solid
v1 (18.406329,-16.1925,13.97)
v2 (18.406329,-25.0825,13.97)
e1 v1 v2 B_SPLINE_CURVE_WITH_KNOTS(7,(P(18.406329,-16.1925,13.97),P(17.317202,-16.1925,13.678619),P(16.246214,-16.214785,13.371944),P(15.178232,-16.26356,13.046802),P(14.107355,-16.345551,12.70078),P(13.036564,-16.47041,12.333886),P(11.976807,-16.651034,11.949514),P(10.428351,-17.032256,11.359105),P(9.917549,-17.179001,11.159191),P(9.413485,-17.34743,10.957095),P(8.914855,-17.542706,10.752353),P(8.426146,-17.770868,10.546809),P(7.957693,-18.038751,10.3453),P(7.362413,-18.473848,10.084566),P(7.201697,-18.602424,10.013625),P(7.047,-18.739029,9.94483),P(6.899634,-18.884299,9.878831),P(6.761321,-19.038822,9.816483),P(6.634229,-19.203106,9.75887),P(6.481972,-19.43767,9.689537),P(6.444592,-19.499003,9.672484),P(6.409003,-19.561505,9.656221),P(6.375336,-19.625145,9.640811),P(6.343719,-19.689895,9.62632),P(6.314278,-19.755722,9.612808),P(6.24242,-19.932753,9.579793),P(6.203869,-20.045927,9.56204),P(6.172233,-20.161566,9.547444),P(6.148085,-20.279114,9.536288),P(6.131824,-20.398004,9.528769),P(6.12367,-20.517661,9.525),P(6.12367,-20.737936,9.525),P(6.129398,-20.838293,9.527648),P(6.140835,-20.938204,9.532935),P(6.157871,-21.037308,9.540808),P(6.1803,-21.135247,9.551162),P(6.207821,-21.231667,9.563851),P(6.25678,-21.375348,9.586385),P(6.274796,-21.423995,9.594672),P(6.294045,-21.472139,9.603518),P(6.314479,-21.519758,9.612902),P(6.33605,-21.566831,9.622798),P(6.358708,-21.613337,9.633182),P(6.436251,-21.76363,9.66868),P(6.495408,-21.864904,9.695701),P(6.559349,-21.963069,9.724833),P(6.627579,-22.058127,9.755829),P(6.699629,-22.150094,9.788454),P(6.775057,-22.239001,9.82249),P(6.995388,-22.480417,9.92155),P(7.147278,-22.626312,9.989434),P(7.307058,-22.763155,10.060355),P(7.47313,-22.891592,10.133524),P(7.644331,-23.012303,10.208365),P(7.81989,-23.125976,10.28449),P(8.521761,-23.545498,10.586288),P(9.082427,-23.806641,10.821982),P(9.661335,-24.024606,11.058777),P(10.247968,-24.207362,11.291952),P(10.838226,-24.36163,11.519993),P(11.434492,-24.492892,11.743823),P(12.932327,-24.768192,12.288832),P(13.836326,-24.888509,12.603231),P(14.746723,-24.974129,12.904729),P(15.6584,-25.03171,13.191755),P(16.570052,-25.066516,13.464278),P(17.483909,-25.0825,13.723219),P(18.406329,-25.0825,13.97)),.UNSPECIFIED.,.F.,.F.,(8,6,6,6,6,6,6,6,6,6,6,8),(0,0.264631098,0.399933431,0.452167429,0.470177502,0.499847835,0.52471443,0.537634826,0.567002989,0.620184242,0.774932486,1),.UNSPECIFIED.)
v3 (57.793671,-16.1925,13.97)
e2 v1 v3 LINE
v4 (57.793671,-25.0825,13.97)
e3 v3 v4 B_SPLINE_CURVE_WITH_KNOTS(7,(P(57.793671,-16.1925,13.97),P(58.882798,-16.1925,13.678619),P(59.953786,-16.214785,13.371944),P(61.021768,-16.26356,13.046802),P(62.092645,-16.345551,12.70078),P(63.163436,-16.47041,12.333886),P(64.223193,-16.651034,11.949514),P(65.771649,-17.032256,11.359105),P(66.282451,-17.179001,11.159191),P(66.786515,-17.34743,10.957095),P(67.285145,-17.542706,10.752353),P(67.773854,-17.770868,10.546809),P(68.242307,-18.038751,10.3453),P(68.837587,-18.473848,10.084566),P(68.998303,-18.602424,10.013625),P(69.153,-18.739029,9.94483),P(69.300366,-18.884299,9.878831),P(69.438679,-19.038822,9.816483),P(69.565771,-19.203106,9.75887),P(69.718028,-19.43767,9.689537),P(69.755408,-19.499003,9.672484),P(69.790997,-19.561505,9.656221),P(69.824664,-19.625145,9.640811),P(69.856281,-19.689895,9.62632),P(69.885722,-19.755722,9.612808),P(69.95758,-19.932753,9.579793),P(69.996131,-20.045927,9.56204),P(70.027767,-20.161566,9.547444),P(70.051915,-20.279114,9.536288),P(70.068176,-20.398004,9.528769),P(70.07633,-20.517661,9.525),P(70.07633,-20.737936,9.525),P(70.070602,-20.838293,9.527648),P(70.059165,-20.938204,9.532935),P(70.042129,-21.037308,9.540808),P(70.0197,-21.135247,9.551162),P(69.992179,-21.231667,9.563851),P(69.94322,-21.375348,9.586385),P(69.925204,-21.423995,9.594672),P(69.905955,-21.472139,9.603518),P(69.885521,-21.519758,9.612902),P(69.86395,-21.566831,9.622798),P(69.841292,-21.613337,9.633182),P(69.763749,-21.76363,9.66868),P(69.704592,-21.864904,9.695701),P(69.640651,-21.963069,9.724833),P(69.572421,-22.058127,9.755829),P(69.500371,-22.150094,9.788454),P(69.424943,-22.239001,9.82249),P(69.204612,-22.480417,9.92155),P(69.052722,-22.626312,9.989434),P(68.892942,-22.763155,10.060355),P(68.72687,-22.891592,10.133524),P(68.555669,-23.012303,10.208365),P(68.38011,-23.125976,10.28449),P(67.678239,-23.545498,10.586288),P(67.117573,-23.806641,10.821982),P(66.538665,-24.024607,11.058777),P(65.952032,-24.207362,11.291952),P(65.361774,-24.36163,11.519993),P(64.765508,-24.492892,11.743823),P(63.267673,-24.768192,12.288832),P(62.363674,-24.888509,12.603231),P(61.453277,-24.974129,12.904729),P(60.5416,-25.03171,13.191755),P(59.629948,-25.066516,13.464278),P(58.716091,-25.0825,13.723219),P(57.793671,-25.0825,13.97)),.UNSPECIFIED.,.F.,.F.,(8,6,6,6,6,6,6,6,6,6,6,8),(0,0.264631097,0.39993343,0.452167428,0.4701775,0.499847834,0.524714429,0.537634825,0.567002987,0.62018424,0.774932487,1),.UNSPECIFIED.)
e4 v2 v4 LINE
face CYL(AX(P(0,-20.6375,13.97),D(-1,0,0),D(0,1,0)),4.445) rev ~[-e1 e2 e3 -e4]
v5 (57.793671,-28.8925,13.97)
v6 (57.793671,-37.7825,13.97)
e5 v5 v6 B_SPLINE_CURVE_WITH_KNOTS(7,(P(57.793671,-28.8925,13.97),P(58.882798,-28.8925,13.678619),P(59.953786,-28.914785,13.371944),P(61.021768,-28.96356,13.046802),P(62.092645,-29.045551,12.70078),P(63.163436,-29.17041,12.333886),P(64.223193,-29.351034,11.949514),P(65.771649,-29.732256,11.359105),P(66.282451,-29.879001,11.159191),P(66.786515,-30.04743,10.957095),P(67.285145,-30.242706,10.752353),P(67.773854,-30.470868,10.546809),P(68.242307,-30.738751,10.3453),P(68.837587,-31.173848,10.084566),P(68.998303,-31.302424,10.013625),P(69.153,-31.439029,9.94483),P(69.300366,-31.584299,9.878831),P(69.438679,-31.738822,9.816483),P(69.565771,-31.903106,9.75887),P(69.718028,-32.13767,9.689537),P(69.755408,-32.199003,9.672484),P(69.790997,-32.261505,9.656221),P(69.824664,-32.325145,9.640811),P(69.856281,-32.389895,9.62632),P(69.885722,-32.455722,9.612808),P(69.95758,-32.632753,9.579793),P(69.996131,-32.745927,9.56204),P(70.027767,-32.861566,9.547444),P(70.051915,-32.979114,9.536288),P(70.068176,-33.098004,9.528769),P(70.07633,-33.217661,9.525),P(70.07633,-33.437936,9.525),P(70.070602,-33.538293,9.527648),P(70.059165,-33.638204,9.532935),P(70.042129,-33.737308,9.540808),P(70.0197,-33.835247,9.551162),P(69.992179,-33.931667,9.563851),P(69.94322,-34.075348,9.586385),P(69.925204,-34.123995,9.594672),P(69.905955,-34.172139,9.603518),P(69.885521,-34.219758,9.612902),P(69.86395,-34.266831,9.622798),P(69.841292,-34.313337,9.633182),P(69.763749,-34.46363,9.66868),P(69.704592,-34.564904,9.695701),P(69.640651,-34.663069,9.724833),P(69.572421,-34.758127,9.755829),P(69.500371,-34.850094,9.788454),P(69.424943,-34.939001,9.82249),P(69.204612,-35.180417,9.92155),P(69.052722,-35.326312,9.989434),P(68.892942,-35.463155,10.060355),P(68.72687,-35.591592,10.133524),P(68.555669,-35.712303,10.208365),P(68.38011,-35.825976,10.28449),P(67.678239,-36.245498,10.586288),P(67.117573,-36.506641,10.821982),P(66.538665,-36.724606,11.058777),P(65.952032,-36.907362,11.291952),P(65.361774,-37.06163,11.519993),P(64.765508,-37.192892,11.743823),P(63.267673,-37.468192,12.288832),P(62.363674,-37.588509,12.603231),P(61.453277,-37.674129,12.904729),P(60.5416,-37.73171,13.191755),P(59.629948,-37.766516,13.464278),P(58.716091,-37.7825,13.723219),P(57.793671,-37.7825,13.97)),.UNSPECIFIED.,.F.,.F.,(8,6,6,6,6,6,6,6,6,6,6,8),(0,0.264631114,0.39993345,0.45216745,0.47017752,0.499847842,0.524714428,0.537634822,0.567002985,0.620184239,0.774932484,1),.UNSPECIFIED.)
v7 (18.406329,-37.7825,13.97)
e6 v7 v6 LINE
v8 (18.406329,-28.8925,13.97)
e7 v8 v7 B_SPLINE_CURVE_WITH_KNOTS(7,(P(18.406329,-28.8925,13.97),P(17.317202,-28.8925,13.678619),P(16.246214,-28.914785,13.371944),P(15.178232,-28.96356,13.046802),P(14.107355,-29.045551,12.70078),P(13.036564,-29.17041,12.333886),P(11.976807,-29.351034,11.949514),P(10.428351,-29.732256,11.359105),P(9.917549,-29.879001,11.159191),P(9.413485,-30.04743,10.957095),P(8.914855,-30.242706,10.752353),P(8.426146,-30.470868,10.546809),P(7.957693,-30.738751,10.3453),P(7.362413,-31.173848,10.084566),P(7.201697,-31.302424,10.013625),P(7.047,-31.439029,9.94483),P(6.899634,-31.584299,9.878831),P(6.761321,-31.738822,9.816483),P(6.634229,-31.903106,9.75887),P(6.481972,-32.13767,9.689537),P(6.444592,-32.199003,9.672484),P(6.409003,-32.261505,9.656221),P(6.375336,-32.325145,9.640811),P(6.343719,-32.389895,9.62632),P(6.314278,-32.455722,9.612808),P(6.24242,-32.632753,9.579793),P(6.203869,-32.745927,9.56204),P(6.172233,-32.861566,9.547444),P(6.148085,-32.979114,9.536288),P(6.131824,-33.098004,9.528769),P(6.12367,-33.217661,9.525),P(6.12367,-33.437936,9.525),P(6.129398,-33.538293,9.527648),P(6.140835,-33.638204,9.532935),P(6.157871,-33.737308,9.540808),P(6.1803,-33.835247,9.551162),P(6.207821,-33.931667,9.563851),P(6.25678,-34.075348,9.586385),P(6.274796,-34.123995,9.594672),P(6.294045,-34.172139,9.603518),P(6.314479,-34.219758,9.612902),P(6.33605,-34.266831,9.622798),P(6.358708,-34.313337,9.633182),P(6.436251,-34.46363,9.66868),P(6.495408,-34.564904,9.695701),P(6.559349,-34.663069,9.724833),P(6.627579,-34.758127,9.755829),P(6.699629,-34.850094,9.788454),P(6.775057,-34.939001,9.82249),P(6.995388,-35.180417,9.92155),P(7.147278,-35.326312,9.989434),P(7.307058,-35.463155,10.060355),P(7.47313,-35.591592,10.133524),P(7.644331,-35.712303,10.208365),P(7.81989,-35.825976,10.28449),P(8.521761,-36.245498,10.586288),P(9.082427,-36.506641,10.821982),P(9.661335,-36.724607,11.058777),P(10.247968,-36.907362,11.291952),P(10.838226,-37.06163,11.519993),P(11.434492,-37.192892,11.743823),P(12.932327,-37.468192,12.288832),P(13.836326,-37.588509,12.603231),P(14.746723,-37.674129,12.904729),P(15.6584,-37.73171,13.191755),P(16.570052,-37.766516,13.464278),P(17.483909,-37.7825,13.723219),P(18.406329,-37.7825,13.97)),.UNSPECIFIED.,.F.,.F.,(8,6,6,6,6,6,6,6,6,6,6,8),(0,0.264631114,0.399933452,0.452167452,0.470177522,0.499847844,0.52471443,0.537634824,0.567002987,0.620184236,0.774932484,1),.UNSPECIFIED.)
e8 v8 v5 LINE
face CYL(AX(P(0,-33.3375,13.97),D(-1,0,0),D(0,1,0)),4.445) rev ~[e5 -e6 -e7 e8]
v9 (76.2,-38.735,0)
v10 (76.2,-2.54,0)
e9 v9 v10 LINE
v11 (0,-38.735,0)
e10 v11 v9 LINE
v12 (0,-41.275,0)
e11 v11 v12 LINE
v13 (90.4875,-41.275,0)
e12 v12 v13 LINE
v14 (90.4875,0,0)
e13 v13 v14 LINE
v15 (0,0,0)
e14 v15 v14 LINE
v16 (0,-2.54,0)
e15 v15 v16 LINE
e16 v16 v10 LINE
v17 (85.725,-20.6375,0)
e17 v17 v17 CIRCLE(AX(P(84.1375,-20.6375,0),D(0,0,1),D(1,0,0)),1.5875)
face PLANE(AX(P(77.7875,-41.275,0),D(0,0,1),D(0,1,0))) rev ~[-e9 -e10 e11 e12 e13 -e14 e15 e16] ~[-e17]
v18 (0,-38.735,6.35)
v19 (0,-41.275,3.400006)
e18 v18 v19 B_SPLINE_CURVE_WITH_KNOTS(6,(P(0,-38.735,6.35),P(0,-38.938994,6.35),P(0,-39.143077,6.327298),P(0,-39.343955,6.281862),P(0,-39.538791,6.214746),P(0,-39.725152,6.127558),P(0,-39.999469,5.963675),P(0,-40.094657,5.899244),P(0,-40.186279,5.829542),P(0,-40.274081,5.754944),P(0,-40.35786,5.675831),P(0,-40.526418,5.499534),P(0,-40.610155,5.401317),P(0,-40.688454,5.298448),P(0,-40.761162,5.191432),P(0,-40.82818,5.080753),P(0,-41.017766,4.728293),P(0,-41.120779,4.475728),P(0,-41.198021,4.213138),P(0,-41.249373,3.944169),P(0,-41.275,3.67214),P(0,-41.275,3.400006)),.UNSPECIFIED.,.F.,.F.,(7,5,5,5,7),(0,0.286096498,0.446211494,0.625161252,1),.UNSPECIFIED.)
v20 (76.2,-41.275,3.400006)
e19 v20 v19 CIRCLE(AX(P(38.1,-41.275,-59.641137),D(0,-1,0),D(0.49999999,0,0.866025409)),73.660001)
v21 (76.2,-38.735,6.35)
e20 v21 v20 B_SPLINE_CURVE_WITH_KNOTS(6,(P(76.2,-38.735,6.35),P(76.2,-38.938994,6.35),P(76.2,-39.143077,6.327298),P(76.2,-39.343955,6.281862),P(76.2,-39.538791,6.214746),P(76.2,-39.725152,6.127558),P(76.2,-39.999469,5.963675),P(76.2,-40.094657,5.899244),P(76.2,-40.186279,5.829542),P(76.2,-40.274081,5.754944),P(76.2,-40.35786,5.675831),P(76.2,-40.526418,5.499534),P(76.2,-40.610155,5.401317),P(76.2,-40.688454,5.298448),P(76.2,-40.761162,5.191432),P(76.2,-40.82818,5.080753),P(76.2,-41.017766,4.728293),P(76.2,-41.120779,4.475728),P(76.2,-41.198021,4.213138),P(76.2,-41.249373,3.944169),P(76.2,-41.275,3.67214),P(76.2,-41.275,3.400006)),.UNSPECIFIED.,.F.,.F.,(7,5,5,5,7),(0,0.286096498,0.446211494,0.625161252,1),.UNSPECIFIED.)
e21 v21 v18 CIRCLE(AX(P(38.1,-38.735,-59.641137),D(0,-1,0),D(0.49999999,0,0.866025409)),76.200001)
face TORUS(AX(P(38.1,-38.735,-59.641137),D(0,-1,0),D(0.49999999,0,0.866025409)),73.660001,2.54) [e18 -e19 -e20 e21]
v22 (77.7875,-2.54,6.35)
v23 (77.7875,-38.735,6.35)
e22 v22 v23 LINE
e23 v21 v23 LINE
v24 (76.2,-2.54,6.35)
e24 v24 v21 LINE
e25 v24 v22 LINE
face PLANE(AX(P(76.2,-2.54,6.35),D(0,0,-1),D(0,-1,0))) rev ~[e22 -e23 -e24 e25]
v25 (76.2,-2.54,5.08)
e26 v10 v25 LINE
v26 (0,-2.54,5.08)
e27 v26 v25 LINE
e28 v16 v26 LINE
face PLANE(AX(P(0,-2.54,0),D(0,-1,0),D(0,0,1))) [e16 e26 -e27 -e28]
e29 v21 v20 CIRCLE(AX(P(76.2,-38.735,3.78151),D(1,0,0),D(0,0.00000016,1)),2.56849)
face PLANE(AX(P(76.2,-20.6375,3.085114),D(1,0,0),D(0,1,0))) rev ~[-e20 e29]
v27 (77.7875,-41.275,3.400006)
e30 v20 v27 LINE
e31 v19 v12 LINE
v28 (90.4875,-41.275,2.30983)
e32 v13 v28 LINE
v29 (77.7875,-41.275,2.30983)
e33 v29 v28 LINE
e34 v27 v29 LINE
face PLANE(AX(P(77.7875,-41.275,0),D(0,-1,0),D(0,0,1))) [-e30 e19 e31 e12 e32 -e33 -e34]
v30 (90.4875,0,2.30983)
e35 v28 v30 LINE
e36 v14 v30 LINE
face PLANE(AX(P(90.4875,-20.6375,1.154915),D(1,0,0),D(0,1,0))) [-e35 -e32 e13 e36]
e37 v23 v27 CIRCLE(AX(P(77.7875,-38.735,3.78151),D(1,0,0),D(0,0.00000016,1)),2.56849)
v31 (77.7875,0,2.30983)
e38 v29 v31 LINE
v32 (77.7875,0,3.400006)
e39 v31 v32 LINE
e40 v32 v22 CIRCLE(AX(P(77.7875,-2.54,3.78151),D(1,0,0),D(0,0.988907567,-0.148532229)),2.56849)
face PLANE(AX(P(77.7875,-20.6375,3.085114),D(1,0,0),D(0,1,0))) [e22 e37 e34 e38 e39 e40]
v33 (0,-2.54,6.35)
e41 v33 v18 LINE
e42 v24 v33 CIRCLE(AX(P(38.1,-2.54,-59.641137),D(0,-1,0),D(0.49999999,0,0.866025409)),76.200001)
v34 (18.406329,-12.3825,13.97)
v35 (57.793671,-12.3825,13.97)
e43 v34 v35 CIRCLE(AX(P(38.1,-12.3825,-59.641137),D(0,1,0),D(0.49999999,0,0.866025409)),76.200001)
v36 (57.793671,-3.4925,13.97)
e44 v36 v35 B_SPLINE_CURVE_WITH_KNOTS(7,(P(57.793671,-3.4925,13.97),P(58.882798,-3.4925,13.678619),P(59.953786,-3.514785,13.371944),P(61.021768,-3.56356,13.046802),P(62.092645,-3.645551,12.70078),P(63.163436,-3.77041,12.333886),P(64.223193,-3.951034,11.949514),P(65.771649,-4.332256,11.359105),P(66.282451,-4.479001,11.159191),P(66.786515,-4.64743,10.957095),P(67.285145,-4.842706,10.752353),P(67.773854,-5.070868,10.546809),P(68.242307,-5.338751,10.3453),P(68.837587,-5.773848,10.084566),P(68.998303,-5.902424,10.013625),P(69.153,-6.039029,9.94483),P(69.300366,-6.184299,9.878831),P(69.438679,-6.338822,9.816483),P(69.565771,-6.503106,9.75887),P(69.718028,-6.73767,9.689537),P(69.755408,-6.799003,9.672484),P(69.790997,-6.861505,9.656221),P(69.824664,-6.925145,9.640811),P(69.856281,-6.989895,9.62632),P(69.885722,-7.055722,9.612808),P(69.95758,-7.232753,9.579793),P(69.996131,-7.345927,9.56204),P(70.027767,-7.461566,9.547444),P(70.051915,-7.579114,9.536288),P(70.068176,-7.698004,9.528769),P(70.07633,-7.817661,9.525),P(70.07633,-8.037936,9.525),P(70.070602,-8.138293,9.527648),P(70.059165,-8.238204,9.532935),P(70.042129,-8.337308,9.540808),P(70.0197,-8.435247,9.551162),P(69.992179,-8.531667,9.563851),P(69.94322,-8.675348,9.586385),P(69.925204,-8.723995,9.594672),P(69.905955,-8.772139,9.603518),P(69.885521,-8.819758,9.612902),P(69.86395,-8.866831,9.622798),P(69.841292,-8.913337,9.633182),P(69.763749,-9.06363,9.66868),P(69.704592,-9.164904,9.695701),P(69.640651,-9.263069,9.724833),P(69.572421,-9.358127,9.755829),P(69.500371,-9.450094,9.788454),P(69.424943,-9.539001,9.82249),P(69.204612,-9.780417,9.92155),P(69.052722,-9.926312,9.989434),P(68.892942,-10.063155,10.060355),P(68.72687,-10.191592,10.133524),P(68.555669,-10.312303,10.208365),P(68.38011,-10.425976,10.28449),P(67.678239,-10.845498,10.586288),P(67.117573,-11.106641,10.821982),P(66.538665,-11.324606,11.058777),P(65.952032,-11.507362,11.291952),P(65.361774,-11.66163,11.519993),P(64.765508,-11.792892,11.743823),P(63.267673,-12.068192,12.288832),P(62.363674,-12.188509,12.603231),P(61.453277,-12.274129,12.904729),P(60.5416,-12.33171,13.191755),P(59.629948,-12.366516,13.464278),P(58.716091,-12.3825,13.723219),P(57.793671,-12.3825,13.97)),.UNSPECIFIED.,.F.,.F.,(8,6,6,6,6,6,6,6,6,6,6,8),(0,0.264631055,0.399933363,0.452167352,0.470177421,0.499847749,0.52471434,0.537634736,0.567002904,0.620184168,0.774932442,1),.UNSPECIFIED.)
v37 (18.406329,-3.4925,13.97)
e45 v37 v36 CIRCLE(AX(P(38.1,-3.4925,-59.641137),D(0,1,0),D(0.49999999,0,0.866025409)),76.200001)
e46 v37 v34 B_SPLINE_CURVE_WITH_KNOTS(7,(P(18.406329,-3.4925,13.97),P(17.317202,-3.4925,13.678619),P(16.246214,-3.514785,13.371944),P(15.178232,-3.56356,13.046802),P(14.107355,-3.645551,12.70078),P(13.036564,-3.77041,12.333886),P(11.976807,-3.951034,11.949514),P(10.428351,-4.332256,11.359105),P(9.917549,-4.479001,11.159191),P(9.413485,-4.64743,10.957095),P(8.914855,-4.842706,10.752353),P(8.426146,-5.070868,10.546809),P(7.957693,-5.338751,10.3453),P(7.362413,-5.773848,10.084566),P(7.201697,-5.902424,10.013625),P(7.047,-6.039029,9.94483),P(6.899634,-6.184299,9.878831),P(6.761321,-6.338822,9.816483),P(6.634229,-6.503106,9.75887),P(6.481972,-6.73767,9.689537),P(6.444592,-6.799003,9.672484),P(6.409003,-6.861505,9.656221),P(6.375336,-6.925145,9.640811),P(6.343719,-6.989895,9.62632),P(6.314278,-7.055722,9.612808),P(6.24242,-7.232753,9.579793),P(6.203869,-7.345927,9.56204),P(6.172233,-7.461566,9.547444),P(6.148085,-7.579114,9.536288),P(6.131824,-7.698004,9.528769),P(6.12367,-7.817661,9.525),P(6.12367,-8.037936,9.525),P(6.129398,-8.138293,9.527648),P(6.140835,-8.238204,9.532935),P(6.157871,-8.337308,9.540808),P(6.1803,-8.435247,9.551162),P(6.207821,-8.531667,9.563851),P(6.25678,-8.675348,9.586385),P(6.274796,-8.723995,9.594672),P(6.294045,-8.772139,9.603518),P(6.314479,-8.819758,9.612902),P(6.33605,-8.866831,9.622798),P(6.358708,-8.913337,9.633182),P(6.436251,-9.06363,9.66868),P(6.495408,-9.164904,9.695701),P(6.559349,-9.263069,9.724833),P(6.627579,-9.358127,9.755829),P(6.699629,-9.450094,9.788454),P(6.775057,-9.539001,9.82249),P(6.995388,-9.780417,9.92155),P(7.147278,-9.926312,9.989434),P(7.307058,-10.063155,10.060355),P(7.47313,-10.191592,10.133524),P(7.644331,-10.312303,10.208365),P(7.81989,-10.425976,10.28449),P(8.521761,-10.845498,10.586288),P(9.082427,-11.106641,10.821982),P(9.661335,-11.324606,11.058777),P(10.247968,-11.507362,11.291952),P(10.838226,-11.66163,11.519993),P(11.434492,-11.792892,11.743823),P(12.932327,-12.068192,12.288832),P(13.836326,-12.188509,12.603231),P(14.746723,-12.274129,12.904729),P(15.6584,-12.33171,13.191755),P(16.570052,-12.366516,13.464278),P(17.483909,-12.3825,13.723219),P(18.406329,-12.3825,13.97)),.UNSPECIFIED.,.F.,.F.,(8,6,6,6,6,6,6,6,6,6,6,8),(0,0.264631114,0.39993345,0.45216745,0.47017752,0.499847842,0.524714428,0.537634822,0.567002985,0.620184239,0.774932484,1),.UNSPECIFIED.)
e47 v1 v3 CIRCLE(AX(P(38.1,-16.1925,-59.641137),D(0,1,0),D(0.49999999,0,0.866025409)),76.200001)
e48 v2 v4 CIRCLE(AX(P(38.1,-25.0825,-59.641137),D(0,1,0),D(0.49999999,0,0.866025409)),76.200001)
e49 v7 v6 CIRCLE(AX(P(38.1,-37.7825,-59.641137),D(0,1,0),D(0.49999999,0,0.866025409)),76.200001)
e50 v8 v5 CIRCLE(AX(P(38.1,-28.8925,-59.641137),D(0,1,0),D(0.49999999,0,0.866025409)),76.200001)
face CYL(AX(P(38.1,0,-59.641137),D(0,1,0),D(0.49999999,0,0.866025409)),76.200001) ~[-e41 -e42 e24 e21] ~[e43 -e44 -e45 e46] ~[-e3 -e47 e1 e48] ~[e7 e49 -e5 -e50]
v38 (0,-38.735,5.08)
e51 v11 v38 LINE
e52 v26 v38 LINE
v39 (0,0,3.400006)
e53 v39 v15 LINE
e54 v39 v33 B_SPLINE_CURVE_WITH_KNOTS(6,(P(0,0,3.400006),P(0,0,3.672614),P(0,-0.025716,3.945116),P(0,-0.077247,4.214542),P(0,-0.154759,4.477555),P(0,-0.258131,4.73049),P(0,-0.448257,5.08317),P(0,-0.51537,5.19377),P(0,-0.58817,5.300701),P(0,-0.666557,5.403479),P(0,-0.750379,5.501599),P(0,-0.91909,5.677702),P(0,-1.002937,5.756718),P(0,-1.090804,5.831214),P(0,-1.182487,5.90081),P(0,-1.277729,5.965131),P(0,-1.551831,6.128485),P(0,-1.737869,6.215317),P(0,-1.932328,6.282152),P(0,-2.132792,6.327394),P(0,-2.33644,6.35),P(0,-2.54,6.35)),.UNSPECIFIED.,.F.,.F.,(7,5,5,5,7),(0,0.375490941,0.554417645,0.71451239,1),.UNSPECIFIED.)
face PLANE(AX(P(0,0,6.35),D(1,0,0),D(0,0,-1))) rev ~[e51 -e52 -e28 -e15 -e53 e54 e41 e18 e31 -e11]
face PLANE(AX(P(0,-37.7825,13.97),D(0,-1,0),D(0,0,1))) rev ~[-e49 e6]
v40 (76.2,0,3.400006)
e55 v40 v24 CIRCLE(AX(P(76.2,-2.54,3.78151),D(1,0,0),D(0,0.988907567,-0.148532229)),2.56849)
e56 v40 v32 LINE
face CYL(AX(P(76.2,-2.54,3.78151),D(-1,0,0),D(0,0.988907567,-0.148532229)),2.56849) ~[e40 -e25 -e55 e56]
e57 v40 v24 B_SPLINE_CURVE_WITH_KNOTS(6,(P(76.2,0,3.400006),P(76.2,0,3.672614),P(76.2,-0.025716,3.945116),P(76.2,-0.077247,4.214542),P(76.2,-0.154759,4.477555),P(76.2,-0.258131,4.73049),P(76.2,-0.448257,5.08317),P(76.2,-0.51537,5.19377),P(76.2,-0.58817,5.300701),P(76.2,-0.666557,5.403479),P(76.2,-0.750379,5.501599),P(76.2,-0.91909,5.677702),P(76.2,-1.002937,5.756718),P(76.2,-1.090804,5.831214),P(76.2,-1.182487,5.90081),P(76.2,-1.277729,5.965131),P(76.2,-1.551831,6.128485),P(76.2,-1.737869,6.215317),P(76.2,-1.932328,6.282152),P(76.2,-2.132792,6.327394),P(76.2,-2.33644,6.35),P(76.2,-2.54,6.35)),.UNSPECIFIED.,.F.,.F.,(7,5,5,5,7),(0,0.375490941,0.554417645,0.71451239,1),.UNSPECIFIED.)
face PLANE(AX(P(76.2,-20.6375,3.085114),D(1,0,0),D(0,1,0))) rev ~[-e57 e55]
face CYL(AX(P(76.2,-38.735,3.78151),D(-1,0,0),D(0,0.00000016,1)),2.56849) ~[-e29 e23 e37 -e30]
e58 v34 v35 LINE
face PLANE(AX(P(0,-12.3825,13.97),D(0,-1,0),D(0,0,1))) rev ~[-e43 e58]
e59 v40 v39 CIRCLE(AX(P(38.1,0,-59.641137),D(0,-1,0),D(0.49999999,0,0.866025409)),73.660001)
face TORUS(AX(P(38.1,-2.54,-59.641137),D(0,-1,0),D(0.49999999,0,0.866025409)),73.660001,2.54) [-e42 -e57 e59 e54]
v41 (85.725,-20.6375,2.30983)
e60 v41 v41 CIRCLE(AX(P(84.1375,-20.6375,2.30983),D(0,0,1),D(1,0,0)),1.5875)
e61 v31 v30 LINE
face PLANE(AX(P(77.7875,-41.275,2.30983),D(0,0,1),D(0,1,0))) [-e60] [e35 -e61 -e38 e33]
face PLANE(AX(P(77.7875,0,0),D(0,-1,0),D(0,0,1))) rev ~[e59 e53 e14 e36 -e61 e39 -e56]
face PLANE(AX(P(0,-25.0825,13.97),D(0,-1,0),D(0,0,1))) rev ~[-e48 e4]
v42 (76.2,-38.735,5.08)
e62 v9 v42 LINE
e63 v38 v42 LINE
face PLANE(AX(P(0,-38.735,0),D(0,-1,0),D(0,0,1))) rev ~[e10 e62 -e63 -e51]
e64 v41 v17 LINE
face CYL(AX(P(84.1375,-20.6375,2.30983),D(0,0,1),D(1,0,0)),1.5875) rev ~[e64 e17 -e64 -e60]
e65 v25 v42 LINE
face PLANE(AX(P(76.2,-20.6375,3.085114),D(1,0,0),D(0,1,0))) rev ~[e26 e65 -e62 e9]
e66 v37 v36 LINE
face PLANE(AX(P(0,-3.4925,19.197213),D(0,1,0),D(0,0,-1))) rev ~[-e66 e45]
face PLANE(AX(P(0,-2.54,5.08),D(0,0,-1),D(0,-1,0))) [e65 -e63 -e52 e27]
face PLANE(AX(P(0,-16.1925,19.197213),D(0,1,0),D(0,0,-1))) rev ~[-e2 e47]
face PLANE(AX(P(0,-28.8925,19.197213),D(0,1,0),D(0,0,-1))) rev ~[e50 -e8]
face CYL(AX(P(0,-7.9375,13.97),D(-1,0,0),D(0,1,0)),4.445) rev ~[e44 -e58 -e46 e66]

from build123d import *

# Parameters (mm, degrees)
F1_DEPTH  = 41.275
F2_W      = 36.195
F2_H      = 5.08
F3_DEPTH  = 76.201
F4_R      = 2.54
F5_R      = 2.54
F7_DEPTH  = 76.201
F9_DEPTH  = 1.5875
F10_W     = 41.275
F10_H     = 2.30983
F11_DEPTH = 12.7
F12_R     = 1.5875
F13_DEPTH = 2.31083


with BuildPart() as f1:
    # F0 (on Front) → F1 (new body)
    with BuildSketch(Plane.XZ):
        with BuildLine():
            Line((0, 6.35), (0, 0))
            Line((0, 0), (76.2, 0))
            Line((76.2, 0), (76.2, 6.35))
            ThreePointArc((76.2, 6.35), (38.1, 16.558864), (0, 6.35))
        make_face()
    extrude(amount=F1_DEPTH)

    # F2 (on face) → F3 (cut, through all)
    with BuildSketch(Plane(origin=(0, 0, 0), x_dir=(0, -1, 0), z_dir=(-1, 0, 0))):
        with Locations((20.6375, 2.54)):
            Rectangle(F2_W, F2_H)
    extrude(amount=-F3_DEPTH, mode=Mode.SUBTRACT)

    # F4
    f4_edges = [f1.edges().sort_by_distance(p)[0] for p in [
        (38.1, 0, 16.558864),
    ]]
    fillet(f4_edges, radius=F4_R)

    # F5
    f5_edges = [f1.edges().sort_by_distance(p)[0] for p in [
        (38.1, -41.275, 16.558864),
    ]]
    fillet(f5_edges, radius=F5_R)

    # F6 (on face) → F7 (cut, through all)
    with BuildSketch(Plane(origin=(0, 0, 0), x_dir=(0, -1, 0), z_dir=(-1, 0, 0))):
        with BuildLine():
            ThreePointArc((3.4925, 13.97), (7.9375, 9.525), (12.3825, 13.97))
            Line((12.3825, 13.97), (12.3825, 19.197213))
            ThreePointArc((12.3825, 19.197213), (7.9375, 23.642213), (3.4925, 19.197213))
            Line((3.4925, 19.197213), (3.4925, 13.97))
        make_face()
        with BuildLine():
            ThreePointArc((16.1925, 13.97), (20.6375, 9.525), (25.0825, 13.97))
            Line((25.0825, 13.97), (25.0825, 19.197213))
            ThreePointArc((25.0825, 19.197213), (20.6375, 23.642213), (16.1925, 19.197213))
            Line((16.1925, 19.197213), (16.1925, 13.97))
        make_face()
        with BuildLine():
            ThreePointArc((28.8925, 13.97), (33.3375, 9.525), (37.7825, 13.97))
            Line((37.7825, 13.97), (37.7825, 19.197213))
            ThreePointArc((37.7825, 19.197213), (33.3375, 23.642213), (28.8925, 19.197213))
            Line((28.8925, 19.197213), (28.8925, 13.97))
        make_face()
    extrude(amount=-F7_DEPTH, mode=Mode.SUBTRACT)

    # F8 (on face) → F9 (join)
    with BuildSketch(Plane.YZ.offset(76.2)):
        with BuildLine():
            ThreePointArc((-38.735, 6.35), (-40.681411, 5.457406), (-41.275, 3.400006))
            Line((-41.275, 3.400006), (-41.275, 0))
            Line((-41.275, 0), (0, 0))
            Line((0, 0), (0, 3.400006))
            ThreePointArc((0, 3.400006), (-0.593589, 5.457406), (-2.54, 6.35))
            Line((-2.54, 6.35), (-38.735, 6.35))
        make_face()
    extrude(amount=F9_DEPTH)

    # F10 (on face) → F11 (join)
    with BuildSketch(Plane.YZ.offset(77.7875)):
        with Locations((-20.6375, 1.154915)):
            Rectangle(F10_W, F10_H)
    extrude(amount=F11_DEPTH)

    # F12 (on face) → F13 (cut, through all)
    with BuildSketch(Plane.XY.offset(2.30983)):
        with Locations((84.1375, -20.6375)):
            Circle(F12_R)
    extrude(amount=-F13_DEPTH, mode=Mode.SUBTRACT)


solid = f1.part
